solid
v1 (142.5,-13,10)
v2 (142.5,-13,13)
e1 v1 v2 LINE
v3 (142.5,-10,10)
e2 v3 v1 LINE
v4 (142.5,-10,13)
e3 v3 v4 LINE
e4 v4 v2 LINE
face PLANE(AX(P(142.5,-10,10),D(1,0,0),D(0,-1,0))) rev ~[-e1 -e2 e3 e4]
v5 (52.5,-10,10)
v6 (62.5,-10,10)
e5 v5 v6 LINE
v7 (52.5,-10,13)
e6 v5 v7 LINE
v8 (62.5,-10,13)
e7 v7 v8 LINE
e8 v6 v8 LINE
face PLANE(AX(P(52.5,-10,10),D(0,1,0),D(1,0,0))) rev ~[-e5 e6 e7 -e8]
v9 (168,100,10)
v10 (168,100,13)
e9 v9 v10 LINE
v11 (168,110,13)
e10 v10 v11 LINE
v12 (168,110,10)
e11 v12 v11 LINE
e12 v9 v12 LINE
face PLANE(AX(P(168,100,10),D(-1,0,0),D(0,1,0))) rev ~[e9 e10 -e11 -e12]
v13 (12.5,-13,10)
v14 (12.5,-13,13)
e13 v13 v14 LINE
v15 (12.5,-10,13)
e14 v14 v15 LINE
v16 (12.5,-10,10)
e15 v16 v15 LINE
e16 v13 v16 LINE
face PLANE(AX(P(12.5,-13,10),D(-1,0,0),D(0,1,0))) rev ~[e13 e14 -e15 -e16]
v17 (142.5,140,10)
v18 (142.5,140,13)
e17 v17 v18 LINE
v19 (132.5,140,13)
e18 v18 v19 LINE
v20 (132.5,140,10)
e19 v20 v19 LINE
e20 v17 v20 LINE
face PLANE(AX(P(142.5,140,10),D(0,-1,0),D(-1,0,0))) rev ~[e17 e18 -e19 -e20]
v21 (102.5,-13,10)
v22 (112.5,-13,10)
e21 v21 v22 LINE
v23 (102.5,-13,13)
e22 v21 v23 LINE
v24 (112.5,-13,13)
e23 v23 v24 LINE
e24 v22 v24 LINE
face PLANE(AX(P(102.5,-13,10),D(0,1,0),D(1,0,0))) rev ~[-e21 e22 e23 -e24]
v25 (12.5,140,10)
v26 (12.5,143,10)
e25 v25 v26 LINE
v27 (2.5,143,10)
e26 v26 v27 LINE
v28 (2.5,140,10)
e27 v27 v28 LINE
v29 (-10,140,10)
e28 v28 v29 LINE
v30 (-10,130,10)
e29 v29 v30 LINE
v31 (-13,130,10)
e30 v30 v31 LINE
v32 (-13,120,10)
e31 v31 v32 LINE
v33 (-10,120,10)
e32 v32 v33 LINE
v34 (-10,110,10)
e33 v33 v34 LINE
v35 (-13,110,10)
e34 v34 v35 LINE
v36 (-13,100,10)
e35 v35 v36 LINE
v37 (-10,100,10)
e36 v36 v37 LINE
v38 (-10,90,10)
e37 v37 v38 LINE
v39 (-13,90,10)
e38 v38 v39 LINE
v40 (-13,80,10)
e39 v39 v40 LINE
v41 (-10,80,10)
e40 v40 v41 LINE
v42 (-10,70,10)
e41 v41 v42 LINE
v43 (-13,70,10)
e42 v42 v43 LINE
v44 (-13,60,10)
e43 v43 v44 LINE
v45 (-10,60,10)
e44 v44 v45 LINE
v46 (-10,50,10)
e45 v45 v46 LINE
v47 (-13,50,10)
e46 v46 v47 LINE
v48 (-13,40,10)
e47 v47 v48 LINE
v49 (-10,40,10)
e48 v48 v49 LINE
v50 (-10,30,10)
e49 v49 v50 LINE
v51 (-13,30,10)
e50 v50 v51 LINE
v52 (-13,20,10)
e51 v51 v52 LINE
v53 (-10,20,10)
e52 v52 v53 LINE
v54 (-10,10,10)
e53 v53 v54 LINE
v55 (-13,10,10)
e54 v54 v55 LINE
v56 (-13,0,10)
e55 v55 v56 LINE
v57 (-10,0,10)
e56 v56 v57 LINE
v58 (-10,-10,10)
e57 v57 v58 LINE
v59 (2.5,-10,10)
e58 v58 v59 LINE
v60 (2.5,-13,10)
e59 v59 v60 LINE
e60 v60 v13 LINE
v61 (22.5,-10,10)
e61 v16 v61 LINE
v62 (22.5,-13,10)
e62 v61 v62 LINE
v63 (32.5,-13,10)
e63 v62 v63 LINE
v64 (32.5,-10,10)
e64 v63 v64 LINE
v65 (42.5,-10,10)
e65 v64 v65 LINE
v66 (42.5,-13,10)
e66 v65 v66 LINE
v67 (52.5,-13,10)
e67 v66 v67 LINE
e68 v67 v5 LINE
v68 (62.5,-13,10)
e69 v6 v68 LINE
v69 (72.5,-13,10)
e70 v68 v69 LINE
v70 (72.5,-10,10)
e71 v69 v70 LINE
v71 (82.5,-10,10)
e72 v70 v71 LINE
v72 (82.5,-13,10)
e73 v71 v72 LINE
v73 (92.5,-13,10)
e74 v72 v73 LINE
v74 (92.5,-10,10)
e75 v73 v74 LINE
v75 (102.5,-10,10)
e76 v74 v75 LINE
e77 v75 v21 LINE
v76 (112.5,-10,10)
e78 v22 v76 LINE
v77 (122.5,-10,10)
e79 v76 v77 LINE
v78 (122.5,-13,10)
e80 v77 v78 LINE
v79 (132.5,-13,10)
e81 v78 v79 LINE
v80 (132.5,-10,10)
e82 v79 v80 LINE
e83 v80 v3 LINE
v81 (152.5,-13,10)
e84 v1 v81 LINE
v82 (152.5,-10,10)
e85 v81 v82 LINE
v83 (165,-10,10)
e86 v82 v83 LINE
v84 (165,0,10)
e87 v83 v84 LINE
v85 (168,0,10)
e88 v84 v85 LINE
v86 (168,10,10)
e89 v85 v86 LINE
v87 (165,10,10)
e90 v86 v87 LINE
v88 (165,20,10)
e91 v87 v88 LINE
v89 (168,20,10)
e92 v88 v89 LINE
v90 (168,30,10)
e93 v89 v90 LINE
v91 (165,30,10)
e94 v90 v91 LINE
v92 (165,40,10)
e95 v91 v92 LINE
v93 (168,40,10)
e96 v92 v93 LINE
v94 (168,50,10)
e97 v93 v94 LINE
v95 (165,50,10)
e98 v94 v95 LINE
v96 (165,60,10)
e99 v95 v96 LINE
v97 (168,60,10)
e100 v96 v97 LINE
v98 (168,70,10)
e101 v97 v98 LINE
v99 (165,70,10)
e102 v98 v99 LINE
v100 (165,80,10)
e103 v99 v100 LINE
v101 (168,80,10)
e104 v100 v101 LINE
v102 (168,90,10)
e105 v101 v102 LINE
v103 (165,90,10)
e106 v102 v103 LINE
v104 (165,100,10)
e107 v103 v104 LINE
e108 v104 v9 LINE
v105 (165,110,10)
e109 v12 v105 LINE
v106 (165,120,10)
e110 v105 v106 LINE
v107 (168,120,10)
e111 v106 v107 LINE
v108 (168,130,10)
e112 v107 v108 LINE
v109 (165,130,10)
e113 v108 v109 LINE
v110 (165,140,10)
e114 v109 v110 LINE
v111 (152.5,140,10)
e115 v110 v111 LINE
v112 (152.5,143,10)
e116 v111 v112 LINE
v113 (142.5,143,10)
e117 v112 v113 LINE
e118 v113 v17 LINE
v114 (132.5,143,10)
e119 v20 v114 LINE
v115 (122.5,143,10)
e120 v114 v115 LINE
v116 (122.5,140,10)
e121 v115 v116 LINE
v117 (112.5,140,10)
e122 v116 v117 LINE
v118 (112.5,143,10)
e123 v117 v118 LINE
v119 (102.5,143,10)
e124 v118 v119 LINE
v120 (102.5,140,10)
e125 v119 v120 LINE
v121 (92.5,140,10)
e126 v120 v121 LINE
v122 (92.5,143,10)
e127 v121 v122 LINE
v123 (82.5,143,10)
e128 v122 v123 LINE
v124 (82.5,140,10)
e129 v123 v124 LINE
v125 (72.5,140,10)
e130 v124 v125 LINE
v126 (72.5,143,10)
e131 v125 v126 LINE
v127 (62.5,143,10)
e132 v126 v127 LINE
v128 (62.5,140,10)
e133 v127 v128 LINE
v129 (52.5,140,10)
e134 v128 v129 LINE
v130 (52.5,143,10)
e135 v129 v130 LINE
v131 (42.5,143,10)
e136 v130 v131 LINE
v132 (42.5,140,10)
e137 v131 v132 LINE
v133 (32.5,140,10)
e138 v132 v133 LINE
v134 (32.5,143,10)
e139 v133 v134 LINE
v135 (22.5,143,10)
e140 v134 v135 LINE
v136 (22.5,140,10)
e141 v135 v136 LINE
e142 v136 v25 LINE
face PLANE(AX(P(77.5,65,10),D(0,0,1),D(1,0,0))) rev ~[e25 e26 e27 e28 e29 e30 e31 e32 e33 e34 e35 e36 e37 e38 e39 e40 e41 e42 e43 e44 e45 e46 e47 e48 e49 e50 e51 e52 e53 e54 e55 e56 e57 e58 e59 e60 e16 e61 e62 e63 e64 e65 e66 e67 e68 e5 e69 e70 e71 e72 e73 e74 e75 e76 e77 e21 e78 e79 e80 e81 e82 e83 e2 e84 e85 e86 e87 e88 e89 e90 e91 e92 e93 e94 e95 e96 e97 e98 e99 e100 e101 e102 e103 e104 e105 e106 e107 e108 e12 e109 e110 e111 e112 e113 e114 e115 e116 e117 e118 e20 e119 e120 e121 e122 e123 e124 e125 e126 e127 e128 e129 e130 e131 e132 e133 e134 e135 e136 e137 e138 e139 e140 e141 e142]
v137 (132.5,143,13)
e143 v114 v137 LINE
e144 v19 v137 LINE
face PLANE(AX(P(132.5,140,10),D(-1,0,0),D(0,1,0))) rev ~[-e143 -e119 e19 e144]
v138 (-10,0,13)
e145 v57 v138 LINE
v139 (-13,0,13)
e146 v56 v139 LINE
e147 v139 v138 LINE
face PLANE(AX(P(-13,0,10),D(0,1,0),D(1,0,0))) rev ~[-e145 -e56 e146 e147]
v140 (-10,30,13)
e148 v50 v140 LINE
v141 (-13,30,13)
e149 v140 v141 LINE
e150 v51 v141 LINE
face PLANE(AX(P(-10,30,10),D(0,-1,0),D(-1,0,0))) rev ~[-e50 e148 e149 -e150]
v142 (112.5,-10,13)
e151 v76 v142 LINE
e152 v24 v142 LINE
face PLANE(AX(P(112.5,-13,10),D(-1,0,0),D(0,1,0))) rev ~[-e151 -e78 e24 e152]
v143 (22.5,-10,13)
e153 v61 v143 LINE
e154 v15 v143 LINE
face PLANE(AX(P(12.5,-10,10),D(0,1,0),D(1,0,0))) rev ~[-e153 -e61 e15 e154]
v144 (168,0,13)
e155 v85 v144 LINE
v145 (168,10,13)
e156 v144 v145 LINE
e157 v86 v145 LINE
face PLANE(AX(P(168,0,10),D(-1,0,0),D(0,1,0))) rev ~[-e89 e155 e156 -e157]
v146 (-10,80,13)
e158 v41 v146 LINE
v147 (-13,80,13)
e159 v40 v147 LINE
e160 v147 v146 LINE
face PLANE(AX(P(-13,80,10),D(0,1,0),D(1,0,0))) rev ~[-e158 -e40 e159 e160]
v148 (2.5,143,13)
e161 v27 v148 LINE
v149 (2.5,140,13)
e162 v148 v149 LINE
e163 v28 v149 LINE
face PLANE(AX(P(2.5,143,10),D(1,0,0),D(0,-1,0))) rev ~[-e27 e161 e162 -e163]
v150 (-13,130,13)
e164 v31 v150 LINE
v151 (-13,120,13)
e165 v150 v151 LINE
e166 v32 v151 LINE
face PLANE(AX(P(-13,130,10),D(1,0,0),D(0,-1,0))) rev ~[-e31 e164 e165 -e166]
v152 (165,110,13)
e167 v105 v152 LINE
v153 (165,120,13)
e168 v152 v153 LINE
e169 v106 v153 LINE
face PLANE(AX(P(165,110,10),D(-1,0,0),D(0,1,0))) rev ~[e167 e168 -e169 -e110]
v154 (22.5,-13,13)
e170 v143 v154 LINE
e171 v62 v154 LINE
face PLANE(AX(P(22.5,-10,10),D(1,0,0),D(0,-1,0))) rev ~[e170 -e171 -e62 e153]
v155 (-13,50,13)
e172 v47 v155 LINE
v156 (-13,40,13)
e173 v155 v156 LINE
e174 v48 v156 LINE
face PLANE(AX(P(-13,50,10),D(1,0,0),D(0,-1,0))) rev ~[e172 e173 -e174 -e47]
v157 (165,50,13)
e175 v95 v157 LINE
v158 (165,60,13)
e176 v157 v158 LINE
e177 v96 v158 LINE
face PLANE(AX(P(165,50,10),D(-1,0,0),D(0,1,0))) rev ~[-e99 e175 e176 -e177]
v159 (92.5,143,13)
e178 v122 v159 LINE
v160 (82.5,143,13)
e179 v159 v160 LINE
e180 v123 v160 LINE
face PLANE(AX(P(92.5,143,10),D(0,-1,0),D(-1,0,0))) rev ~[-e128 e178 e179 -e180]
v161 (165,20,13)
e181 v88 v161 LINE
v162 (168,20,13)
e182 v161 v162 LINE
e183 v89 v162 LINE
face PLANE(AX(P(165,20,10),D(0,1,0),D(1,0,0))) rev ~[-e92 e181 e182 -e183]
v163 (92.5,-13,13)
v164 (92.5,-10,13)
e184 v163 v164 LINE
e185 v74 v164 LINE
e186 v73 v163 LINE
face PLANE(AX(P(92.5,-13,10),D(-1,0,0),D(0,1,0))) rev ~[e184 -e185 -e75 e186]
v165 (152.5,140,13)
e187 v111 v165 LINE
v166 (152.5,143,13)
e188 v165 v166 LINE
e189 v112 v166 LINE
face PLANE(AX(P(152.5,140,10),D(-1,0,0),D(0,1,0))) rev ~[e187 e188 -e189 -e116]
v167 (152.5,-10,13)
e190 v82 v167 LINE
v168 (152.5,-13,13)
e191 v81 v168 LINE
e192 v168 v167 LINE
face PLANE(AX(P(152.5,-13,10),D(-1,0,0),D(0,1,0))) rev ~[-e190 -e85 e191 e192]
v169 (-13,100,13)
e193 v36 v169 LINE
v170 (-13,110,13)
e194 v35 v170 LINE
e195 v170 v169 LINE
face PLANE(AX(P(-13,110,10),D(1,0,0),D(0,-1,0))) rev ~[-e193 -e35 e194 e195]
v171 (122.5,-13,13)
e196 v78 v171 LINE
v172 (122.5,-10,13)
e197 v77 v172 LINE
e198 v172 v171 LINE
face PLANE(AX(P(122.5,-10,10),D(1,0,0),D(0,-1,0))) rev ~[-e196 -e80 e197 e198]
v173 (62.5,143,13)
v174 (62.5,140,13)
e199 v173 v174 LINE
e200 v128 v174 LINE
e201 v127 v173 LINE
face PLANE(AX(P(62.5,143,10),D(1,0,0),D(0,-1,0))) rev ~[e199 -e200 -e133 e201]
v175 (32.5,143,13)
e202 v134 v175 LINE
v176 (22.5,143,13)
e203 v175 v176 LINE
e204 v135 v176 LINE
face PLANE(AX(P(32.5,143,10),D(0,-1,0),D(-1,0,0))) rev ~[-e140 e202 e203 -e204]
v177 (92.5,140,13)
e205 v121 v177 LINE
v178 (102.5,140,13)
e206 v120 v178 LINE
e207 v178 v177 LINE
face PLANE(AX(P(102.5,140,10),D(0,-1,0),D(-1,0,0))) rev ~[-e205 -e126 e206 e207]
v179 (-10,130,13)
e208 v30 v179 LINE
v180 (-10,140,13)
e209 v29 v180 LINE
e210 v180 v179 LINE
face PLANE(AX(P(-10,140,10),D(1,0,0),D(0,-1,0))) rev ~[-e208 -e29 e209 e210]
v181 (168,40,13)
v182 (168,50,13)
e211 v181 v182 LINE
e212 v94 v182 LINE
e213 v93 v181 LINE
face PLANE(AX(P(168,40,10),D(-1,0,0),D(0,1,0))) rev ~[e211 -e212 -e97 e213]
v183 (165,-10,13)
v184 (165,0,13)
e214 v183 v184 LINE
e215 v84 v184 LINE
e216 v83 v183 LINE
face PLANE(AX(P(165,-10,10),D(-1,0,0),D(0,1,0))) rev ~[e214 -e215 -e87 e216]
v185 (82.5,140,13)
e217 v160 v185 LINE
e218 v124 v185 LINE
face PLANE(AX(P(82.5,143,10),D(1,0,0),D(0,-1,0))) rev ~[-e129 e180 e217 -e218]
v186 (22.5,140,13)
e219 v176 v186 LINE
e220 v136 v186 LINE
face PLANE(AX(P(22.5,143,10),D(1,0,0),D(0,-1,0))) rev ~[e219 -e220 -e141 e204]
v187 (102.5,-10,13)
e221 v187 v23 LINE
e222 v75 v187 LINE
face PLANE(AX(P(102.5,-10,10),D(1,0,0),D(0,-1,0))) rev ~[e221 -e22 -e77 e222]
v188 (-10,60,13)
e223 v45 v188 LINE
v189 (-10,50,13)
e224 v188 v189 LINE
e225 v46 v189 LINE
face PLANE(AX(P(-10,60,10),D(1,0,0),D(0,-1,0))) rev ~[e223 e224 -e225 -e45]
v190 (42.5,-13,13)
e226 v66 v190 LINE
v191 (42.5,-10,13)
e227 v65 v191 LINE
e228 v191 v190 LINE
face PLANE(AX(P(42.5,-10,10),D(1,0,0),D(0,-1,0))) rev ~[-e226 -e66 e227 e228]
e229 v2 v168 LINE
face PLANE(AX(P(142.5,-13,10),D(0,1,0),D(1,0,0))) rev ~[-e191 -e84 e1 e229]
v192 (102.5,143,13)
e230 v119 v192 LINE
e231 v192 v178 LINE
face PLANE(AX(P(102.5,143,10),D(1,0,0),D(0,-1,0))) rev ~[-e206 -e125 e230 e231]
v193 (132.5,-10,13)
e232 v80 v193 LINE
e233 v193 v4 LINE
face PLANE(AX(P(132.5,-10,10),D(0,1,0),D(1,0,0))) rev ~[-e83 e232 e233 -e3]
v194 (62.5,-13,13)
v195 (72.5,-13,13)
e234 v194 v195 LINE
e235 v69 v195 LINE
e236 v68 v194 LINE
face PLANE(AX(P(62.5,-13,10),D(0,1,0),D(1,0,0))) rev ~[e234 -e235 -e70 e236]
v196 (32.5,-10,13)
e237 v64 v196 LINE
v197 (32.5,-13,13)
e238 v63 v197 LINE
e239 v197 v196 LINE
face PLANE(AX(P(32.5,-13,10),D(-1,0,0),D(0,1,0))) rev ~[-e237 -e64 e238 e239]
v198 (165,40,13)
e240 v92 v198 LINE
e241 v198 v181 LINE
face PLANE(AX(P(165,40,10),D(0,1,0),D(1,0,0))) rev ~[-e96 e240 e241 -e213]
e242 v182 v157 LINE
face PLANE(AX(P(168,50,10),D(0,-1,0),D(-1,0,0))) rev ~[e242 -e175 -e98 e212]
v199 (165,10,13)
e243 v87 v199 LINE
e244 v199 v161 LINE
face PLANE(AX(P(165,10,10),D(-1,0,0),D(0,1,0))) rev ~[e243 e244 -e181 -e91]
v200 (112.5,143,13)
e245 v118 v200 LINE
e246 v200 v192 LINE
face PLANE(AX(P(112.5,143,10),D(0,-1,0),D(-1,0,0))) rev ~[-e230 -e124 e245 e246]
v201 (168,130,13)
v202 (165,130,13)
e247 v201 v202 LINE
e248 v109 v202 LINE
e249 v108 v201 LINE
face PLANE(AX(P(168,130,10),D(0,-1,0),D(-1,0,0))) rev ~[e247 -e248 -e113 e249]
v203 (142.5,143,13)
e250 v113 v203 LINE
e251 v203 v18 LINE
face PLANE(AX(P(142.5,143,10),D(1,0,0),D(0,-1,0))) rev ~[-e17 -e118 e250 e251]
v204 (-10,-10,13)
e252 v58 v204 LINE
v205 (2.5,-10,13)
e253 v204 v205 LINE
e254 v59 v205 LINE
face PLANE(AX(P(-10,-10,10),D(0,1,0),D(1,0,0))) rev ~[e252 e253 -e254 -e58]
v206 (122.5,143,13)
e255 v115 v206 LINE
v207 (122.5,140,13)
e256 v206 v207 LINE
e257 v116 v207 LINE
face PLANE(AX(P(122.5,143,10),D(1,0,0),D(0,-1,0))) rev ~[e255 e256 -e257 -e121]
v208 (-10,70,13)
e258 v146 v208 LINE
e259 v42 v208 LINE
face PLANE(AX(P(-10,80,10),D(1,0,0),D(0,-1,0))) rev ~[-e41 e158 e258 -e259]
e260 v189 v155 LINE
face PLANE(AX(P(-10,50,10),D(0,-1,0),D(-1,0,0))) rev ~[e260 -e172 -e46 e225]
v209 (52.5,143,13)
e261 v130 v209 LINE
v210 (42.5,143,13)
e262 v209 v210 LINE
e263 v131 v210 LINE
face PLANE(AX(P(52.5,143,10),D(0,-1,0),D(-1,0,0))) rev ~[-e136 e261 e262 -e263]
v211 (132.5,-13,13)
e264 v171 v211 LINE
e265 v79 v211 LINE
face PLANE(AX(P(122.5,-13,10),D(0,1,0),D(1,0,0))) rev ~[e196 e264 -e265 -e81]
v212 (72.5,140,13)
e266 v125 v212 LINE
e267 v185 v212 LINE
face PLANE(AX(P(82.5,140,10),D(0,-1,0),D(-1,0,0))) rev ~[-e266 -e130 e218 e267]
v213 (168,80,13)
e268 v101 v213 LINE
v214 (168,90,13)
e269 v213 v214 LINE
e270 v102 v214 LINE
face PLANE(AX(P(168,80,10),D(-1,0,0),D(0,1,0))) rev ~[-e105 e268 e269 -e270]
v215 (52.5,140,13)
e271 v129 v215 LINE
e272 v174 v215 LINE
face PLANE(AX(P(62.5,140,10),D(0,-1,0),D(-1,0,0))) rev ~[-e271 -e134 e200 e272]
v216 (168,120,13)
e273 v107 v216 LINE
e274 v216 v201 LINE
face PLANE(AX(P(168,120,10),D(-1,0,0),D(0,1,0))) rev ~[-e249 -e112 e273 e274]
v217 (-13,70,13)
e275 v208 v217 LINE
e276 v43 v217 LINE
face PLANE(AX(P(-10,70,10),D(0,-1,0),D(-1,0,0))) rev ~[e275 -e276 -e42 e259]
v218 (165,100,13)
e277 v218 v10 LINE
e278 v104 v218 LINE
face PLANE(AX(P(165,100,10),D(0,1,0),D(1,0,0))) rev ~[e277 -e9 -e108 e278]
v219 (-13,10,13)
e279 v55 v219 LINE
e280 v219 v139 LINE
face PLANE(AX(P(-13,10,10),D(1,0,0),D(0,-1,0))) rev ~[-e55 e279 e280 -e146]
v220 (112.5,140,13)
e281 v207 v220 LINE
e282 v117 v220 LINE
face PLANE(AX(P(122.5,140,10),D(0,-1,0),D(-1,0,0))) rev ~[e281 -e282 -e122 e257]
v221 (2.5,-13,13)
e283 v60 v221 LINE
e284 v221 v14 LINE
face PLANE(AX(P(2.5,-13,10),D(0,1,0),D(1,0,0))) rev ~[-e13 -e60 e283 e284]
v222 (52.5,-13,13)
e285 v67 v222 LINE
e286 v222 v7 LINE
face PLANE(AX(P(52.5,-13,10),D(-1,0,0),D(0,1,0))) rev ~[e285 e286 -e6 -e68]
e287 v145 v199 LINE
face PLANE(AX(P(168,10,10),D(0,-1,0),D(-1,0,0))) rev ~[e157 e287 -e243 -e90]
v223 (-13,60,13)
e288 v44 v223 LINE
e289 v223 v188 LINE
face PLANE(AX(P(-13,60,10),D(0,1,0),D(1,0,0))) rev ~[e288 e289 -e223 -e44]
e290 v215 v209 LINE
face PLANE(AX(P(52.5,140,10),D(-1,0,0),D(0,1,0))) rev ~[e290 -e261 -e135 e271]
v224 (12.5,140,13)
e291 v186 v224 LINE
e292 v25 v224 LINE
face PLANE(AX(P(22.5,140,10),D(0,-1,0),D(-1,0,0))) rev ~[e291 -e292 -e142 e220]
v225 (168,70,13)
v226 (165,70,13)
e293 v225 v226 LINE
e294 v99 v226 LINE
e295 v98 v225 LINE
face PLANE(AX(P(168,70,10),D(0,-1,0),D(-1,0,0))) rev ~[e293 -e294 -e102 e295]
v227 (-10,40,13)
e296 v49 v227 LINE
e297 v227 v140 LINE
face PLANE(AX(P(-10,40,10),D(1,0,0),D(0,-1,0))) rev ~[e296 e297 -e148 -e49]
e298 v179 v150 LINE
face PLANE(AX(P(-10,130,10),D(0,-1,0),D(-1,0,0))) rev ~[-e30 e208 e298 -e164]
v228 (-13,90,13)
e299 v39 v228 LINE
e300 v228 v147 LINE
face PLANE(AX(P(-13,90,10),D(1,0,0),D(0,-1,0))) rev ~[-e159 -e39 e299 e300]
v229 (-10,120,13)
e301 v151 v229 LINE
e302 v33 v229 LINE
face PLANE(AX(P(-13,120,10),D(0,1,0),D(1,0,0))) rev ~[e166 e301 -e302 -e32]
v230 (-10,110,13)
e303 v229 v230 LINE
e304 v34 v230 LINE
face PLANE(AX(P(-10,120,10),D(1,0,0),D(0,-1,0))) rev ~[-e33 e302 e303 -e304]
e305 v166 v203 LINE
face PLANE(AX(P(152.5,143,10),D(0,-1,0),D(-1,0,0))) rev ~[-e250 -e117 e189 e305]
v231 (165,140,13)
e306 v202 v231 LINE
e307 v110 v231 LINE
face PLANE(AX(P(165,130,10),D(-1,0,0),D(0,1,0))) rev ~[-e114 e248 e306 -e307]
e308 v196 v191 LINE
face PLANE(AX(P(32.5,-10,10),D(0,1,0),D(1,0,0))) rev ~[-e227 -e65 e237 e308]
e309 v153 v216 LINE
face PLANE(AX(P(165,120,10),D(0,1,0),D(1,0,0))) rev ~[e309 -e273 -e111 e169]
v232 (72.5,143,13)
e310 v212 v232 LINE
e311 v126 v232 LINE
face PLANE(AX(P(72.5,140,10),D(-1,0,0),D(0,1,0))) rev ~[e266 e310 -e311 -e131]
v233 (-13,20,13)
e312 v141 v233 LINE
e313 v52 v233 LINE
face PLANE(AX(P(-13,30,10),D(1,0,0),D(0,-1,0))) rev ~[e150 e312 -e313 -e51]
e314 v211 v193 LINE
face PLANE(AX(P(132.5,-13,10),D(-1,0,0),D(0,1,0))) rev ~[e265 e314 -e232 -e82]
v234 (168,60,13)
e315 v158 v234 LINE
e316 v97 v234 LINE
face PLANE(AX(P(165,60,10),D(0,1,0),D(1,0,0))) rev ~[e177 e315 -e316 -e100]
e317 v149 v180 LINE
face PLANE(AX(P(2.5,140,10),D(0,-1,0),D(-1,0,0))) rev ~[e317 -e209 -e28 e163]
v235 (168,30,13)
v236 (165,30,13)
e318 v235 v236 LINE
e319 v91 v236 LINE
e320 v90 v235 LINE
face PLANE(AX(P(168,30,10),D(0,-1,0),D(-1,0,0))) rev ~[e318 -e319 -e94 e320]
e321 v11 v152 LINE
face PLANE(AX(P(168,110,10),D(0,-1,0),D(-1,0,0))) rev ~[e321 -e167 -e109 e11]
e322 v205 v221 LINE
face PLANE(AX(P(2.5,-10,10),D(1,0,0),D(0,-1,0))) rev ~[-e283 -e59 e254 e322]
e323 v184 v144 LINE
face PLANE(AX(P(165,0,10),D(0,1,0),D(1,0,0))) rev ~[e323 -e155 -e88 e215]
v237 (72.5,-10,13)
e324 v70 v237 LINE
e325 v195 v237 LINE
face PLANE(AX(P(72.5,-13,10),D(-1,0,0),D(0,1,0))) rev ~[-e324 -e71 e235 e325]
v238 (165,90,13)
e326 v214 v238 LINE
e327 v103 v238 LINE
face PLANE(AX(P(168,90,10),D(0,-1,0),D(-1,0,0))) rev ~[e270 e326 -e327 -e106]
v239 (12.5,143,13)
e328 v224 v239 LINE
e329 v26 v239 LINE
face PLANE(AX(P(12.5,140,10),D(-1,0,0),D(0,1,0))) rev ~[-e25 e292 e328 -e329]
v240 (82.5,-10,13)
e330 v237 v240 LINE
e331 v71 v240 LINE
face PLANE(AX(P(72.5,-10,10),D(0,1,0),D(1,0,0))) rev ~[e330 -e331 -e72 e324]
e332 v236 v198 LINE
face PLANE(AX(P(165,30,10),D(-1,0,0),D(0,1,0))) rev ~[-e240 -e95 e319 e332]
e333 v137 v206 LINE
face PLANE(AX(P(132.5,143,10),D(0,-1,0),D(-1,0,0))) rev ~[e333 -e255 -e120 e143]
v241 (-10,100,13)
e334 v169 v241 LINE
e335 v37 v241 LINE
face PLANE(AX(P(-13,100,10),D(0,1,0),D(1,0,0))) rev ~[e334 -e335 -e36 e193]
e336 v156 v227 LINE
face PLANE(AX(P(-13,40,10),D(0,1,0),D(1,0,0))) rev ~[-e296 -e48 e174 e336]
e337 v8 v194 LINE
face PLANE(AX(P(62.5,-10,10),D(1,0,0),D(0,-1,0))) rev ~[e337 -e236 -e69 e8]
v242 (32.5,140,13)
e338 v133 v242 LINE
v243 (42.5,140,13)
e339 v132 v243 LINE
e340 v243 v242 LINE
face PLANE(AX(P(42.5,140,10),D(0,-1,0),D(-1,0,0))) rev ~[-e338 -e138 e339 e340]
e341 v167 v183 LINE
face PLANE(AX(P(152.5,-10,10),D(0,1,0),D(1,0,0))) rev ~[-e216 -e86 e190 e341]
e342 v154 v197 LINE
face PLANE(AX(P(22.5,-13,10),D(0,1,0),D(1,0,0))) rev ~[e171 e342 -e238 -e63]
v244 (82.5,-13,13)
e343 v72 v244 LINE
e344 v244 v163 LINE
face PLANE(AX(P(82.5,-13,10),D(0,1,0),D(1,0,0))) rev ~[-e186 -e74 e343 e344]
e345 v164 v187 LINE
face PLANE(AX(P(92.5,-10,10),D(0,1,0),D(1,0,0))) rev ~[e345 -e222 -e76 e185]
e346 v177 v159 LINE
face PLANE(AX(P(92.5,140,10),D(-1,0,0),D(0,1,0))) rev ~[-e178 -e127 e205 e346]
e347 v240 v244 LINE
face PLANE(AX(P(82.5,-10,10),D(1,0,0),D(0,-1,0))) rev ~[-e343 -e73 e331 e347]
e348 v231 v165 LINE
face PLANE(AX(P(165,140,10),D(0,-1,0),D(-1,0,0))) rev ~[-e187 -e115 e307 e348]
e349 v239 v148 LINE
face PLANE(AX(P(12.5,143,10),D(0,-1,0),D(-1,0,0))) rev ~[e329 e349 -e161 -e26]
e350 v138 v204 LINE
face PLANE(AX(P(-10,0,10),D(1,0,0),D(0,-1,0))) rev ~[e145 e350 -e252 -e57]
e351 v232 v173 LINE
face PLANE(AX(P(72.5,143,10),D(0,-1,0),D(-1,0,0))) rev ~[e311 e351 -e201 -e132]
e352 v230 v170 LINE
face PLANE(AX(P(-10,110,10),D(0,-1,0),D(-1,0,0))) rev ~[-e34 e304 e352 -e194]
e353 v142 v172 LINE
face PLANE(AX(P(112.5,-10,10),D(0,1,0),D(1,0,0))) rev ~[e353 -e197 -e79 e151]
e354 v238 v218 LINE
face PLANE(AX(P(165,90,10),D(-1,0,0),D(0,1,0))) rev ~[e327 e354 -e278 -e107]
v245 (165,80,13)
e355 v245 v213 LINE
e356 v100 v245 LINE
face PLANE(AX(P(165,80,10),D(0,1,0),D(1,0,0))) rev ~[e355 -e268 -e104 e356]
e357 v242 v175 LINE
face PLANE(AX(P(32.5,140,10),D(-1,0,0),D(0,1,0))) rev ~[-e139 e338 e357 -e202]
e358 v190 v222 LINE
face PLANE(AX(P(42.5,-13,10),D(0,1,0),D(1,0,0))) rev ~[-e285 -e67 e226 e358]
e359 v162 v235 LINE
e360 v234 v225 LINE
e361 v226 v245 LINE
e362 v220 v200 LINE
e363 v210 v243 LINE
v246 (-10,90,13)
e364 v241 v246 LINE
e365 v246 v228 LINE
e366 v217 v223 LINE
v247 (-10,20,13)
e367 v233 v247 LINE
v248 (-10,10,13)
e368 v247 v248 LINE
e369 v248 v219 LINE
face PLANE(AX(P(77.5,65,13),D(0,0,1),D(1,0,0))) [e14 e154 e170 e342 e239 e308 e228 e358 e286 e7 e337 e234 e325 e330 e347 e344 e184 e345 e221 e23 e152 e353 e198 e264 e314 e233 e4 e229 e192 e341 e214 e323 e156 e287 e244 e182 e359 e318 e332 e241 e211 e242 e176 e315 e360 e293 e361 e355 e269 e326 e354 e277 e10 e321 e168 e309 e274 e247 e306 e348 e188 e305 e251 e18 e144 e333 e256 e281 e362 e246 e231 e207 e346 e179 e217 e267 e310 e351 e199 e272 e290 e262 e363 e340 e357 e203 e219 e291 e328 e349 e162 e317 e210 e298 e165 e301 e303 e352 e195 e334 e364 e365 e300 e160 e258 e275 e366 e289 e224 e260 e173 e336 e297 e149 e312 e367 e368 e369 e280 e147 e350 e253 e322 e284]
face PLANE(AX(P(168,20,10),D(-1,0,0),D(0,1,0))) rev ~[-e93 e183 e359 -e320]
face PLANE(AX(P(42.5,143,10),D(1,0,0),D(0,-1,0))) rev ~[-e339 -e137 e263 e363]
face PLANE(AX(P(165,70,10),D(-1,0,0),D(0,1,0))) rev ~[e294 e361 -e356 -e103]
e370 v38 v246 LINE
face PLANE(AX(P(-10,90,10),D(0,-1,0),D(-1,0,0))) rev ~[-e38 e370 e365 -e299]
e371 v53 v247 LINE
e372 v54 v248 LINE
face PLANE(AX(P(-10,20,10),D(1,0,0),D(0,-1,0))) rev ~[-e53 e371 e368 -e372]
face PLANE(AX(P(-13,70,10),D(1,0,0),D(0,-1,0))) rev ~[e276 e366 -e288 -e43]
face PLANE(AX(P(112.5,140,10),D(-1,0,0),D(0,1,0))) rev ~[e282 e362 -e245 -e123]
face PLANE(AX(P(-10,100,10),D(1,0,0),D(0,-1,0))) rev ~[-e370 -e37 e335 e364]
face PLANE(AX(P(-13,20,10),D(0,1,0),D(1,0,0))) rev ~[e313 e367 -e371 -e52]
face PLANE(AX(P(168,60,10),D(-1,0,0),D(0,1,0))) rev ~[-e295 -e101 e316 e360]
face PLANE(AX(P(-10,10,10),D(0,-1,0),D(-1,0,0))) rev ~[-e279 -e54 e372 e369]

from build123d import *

# Parameters (mm, degrees)
BOSS_EXTRUDE1_DEPTH = 3


with BuildPart() as part:
    # Sketch1 → Boss-Extrude1 (new body)
    with BuildSketch(Plane.XY.offset(10)):
        Polygon((12.5, -13), (12.5, -10), (22.5, -10), (22.5, -13), (32.5, -13), (32.5, -10), (42.5, -10), (42.5, -13), (52.5, -13), (52.5, -10), (62.5, -10), (62.5, -13), (72.5, -13), (72.5, -10), (82.5, -10), (82.5, -13), (92.5, -13), (92.5, -10), (102.5, -10), (102.5, -13), (112.5, -13), (112.5, -10), (122.5, -10), (122.5, -13), (132.5, -13), (132.5, -10), (142.5, -10), (142.5, -13), (152.5, -13), (152.5, -10), (165, -10), (165, 0), (168, 0), (168, 10), (165, 10), (165, 20), (168, 20), (168, 30), (165, 30), (165, 40), (168, 40), (168, 50), (165, 50), (165, 60), (168, 60), (168, 70), (165, 70), (165, 80), (168, 80), (168, 90), (165, 90), (165, 100), (168, 100), (168, 110), (165, 110), (165, 120), (168, 120), (168, 130), (165, 130), (165, 140), (152.5, 140), (152.5, 143), (142.5, 143), (142.5, 140), (132.5, 140), (132.5, 143), (122.5, 143), (122.5, 140), (112.5, 140), (112.5, 143), (102.5, 143), (102.5, 140), (92.5, 140), (92.5, 143), (82.5, 143), (82.5, 140), (72.5, 140), (72.5, 143), (62.5, 143), (62.5, 140), (52.5, 140), (52.5, 143), (42.5, 143), (42.5, 140), (32.5, 140), (32.5, 143), (22.5, 143), (22.5, 140), (12.5, 140), (12.5, 143), (2.5, 143), (2.5, 140), (-10, 140), (-10, 130), (-13, 130), (-13, 120), (-10, 120), (-10, 110), (-13, 110), (-13, 100), (-10, 100), (-10, 90), (-13, 90), (-13, 80), (-10, 80), (-10, 70), (-13, 70), (-13, 60), (-10, 60), (-10, 50), (-13, 50), (-13, 40), (-10, 40), (-10, 30), (-13, 30), (-13, 20), (-10, 20), (-10, 10), (-13, 10), (-13, 0), (-10, 0), (-10, -10), (2.5, -10), (2.5, -13), align=None)
    extrude(amount=BOSS_EXTRUDE1_DEPTH)


solid = part.part
